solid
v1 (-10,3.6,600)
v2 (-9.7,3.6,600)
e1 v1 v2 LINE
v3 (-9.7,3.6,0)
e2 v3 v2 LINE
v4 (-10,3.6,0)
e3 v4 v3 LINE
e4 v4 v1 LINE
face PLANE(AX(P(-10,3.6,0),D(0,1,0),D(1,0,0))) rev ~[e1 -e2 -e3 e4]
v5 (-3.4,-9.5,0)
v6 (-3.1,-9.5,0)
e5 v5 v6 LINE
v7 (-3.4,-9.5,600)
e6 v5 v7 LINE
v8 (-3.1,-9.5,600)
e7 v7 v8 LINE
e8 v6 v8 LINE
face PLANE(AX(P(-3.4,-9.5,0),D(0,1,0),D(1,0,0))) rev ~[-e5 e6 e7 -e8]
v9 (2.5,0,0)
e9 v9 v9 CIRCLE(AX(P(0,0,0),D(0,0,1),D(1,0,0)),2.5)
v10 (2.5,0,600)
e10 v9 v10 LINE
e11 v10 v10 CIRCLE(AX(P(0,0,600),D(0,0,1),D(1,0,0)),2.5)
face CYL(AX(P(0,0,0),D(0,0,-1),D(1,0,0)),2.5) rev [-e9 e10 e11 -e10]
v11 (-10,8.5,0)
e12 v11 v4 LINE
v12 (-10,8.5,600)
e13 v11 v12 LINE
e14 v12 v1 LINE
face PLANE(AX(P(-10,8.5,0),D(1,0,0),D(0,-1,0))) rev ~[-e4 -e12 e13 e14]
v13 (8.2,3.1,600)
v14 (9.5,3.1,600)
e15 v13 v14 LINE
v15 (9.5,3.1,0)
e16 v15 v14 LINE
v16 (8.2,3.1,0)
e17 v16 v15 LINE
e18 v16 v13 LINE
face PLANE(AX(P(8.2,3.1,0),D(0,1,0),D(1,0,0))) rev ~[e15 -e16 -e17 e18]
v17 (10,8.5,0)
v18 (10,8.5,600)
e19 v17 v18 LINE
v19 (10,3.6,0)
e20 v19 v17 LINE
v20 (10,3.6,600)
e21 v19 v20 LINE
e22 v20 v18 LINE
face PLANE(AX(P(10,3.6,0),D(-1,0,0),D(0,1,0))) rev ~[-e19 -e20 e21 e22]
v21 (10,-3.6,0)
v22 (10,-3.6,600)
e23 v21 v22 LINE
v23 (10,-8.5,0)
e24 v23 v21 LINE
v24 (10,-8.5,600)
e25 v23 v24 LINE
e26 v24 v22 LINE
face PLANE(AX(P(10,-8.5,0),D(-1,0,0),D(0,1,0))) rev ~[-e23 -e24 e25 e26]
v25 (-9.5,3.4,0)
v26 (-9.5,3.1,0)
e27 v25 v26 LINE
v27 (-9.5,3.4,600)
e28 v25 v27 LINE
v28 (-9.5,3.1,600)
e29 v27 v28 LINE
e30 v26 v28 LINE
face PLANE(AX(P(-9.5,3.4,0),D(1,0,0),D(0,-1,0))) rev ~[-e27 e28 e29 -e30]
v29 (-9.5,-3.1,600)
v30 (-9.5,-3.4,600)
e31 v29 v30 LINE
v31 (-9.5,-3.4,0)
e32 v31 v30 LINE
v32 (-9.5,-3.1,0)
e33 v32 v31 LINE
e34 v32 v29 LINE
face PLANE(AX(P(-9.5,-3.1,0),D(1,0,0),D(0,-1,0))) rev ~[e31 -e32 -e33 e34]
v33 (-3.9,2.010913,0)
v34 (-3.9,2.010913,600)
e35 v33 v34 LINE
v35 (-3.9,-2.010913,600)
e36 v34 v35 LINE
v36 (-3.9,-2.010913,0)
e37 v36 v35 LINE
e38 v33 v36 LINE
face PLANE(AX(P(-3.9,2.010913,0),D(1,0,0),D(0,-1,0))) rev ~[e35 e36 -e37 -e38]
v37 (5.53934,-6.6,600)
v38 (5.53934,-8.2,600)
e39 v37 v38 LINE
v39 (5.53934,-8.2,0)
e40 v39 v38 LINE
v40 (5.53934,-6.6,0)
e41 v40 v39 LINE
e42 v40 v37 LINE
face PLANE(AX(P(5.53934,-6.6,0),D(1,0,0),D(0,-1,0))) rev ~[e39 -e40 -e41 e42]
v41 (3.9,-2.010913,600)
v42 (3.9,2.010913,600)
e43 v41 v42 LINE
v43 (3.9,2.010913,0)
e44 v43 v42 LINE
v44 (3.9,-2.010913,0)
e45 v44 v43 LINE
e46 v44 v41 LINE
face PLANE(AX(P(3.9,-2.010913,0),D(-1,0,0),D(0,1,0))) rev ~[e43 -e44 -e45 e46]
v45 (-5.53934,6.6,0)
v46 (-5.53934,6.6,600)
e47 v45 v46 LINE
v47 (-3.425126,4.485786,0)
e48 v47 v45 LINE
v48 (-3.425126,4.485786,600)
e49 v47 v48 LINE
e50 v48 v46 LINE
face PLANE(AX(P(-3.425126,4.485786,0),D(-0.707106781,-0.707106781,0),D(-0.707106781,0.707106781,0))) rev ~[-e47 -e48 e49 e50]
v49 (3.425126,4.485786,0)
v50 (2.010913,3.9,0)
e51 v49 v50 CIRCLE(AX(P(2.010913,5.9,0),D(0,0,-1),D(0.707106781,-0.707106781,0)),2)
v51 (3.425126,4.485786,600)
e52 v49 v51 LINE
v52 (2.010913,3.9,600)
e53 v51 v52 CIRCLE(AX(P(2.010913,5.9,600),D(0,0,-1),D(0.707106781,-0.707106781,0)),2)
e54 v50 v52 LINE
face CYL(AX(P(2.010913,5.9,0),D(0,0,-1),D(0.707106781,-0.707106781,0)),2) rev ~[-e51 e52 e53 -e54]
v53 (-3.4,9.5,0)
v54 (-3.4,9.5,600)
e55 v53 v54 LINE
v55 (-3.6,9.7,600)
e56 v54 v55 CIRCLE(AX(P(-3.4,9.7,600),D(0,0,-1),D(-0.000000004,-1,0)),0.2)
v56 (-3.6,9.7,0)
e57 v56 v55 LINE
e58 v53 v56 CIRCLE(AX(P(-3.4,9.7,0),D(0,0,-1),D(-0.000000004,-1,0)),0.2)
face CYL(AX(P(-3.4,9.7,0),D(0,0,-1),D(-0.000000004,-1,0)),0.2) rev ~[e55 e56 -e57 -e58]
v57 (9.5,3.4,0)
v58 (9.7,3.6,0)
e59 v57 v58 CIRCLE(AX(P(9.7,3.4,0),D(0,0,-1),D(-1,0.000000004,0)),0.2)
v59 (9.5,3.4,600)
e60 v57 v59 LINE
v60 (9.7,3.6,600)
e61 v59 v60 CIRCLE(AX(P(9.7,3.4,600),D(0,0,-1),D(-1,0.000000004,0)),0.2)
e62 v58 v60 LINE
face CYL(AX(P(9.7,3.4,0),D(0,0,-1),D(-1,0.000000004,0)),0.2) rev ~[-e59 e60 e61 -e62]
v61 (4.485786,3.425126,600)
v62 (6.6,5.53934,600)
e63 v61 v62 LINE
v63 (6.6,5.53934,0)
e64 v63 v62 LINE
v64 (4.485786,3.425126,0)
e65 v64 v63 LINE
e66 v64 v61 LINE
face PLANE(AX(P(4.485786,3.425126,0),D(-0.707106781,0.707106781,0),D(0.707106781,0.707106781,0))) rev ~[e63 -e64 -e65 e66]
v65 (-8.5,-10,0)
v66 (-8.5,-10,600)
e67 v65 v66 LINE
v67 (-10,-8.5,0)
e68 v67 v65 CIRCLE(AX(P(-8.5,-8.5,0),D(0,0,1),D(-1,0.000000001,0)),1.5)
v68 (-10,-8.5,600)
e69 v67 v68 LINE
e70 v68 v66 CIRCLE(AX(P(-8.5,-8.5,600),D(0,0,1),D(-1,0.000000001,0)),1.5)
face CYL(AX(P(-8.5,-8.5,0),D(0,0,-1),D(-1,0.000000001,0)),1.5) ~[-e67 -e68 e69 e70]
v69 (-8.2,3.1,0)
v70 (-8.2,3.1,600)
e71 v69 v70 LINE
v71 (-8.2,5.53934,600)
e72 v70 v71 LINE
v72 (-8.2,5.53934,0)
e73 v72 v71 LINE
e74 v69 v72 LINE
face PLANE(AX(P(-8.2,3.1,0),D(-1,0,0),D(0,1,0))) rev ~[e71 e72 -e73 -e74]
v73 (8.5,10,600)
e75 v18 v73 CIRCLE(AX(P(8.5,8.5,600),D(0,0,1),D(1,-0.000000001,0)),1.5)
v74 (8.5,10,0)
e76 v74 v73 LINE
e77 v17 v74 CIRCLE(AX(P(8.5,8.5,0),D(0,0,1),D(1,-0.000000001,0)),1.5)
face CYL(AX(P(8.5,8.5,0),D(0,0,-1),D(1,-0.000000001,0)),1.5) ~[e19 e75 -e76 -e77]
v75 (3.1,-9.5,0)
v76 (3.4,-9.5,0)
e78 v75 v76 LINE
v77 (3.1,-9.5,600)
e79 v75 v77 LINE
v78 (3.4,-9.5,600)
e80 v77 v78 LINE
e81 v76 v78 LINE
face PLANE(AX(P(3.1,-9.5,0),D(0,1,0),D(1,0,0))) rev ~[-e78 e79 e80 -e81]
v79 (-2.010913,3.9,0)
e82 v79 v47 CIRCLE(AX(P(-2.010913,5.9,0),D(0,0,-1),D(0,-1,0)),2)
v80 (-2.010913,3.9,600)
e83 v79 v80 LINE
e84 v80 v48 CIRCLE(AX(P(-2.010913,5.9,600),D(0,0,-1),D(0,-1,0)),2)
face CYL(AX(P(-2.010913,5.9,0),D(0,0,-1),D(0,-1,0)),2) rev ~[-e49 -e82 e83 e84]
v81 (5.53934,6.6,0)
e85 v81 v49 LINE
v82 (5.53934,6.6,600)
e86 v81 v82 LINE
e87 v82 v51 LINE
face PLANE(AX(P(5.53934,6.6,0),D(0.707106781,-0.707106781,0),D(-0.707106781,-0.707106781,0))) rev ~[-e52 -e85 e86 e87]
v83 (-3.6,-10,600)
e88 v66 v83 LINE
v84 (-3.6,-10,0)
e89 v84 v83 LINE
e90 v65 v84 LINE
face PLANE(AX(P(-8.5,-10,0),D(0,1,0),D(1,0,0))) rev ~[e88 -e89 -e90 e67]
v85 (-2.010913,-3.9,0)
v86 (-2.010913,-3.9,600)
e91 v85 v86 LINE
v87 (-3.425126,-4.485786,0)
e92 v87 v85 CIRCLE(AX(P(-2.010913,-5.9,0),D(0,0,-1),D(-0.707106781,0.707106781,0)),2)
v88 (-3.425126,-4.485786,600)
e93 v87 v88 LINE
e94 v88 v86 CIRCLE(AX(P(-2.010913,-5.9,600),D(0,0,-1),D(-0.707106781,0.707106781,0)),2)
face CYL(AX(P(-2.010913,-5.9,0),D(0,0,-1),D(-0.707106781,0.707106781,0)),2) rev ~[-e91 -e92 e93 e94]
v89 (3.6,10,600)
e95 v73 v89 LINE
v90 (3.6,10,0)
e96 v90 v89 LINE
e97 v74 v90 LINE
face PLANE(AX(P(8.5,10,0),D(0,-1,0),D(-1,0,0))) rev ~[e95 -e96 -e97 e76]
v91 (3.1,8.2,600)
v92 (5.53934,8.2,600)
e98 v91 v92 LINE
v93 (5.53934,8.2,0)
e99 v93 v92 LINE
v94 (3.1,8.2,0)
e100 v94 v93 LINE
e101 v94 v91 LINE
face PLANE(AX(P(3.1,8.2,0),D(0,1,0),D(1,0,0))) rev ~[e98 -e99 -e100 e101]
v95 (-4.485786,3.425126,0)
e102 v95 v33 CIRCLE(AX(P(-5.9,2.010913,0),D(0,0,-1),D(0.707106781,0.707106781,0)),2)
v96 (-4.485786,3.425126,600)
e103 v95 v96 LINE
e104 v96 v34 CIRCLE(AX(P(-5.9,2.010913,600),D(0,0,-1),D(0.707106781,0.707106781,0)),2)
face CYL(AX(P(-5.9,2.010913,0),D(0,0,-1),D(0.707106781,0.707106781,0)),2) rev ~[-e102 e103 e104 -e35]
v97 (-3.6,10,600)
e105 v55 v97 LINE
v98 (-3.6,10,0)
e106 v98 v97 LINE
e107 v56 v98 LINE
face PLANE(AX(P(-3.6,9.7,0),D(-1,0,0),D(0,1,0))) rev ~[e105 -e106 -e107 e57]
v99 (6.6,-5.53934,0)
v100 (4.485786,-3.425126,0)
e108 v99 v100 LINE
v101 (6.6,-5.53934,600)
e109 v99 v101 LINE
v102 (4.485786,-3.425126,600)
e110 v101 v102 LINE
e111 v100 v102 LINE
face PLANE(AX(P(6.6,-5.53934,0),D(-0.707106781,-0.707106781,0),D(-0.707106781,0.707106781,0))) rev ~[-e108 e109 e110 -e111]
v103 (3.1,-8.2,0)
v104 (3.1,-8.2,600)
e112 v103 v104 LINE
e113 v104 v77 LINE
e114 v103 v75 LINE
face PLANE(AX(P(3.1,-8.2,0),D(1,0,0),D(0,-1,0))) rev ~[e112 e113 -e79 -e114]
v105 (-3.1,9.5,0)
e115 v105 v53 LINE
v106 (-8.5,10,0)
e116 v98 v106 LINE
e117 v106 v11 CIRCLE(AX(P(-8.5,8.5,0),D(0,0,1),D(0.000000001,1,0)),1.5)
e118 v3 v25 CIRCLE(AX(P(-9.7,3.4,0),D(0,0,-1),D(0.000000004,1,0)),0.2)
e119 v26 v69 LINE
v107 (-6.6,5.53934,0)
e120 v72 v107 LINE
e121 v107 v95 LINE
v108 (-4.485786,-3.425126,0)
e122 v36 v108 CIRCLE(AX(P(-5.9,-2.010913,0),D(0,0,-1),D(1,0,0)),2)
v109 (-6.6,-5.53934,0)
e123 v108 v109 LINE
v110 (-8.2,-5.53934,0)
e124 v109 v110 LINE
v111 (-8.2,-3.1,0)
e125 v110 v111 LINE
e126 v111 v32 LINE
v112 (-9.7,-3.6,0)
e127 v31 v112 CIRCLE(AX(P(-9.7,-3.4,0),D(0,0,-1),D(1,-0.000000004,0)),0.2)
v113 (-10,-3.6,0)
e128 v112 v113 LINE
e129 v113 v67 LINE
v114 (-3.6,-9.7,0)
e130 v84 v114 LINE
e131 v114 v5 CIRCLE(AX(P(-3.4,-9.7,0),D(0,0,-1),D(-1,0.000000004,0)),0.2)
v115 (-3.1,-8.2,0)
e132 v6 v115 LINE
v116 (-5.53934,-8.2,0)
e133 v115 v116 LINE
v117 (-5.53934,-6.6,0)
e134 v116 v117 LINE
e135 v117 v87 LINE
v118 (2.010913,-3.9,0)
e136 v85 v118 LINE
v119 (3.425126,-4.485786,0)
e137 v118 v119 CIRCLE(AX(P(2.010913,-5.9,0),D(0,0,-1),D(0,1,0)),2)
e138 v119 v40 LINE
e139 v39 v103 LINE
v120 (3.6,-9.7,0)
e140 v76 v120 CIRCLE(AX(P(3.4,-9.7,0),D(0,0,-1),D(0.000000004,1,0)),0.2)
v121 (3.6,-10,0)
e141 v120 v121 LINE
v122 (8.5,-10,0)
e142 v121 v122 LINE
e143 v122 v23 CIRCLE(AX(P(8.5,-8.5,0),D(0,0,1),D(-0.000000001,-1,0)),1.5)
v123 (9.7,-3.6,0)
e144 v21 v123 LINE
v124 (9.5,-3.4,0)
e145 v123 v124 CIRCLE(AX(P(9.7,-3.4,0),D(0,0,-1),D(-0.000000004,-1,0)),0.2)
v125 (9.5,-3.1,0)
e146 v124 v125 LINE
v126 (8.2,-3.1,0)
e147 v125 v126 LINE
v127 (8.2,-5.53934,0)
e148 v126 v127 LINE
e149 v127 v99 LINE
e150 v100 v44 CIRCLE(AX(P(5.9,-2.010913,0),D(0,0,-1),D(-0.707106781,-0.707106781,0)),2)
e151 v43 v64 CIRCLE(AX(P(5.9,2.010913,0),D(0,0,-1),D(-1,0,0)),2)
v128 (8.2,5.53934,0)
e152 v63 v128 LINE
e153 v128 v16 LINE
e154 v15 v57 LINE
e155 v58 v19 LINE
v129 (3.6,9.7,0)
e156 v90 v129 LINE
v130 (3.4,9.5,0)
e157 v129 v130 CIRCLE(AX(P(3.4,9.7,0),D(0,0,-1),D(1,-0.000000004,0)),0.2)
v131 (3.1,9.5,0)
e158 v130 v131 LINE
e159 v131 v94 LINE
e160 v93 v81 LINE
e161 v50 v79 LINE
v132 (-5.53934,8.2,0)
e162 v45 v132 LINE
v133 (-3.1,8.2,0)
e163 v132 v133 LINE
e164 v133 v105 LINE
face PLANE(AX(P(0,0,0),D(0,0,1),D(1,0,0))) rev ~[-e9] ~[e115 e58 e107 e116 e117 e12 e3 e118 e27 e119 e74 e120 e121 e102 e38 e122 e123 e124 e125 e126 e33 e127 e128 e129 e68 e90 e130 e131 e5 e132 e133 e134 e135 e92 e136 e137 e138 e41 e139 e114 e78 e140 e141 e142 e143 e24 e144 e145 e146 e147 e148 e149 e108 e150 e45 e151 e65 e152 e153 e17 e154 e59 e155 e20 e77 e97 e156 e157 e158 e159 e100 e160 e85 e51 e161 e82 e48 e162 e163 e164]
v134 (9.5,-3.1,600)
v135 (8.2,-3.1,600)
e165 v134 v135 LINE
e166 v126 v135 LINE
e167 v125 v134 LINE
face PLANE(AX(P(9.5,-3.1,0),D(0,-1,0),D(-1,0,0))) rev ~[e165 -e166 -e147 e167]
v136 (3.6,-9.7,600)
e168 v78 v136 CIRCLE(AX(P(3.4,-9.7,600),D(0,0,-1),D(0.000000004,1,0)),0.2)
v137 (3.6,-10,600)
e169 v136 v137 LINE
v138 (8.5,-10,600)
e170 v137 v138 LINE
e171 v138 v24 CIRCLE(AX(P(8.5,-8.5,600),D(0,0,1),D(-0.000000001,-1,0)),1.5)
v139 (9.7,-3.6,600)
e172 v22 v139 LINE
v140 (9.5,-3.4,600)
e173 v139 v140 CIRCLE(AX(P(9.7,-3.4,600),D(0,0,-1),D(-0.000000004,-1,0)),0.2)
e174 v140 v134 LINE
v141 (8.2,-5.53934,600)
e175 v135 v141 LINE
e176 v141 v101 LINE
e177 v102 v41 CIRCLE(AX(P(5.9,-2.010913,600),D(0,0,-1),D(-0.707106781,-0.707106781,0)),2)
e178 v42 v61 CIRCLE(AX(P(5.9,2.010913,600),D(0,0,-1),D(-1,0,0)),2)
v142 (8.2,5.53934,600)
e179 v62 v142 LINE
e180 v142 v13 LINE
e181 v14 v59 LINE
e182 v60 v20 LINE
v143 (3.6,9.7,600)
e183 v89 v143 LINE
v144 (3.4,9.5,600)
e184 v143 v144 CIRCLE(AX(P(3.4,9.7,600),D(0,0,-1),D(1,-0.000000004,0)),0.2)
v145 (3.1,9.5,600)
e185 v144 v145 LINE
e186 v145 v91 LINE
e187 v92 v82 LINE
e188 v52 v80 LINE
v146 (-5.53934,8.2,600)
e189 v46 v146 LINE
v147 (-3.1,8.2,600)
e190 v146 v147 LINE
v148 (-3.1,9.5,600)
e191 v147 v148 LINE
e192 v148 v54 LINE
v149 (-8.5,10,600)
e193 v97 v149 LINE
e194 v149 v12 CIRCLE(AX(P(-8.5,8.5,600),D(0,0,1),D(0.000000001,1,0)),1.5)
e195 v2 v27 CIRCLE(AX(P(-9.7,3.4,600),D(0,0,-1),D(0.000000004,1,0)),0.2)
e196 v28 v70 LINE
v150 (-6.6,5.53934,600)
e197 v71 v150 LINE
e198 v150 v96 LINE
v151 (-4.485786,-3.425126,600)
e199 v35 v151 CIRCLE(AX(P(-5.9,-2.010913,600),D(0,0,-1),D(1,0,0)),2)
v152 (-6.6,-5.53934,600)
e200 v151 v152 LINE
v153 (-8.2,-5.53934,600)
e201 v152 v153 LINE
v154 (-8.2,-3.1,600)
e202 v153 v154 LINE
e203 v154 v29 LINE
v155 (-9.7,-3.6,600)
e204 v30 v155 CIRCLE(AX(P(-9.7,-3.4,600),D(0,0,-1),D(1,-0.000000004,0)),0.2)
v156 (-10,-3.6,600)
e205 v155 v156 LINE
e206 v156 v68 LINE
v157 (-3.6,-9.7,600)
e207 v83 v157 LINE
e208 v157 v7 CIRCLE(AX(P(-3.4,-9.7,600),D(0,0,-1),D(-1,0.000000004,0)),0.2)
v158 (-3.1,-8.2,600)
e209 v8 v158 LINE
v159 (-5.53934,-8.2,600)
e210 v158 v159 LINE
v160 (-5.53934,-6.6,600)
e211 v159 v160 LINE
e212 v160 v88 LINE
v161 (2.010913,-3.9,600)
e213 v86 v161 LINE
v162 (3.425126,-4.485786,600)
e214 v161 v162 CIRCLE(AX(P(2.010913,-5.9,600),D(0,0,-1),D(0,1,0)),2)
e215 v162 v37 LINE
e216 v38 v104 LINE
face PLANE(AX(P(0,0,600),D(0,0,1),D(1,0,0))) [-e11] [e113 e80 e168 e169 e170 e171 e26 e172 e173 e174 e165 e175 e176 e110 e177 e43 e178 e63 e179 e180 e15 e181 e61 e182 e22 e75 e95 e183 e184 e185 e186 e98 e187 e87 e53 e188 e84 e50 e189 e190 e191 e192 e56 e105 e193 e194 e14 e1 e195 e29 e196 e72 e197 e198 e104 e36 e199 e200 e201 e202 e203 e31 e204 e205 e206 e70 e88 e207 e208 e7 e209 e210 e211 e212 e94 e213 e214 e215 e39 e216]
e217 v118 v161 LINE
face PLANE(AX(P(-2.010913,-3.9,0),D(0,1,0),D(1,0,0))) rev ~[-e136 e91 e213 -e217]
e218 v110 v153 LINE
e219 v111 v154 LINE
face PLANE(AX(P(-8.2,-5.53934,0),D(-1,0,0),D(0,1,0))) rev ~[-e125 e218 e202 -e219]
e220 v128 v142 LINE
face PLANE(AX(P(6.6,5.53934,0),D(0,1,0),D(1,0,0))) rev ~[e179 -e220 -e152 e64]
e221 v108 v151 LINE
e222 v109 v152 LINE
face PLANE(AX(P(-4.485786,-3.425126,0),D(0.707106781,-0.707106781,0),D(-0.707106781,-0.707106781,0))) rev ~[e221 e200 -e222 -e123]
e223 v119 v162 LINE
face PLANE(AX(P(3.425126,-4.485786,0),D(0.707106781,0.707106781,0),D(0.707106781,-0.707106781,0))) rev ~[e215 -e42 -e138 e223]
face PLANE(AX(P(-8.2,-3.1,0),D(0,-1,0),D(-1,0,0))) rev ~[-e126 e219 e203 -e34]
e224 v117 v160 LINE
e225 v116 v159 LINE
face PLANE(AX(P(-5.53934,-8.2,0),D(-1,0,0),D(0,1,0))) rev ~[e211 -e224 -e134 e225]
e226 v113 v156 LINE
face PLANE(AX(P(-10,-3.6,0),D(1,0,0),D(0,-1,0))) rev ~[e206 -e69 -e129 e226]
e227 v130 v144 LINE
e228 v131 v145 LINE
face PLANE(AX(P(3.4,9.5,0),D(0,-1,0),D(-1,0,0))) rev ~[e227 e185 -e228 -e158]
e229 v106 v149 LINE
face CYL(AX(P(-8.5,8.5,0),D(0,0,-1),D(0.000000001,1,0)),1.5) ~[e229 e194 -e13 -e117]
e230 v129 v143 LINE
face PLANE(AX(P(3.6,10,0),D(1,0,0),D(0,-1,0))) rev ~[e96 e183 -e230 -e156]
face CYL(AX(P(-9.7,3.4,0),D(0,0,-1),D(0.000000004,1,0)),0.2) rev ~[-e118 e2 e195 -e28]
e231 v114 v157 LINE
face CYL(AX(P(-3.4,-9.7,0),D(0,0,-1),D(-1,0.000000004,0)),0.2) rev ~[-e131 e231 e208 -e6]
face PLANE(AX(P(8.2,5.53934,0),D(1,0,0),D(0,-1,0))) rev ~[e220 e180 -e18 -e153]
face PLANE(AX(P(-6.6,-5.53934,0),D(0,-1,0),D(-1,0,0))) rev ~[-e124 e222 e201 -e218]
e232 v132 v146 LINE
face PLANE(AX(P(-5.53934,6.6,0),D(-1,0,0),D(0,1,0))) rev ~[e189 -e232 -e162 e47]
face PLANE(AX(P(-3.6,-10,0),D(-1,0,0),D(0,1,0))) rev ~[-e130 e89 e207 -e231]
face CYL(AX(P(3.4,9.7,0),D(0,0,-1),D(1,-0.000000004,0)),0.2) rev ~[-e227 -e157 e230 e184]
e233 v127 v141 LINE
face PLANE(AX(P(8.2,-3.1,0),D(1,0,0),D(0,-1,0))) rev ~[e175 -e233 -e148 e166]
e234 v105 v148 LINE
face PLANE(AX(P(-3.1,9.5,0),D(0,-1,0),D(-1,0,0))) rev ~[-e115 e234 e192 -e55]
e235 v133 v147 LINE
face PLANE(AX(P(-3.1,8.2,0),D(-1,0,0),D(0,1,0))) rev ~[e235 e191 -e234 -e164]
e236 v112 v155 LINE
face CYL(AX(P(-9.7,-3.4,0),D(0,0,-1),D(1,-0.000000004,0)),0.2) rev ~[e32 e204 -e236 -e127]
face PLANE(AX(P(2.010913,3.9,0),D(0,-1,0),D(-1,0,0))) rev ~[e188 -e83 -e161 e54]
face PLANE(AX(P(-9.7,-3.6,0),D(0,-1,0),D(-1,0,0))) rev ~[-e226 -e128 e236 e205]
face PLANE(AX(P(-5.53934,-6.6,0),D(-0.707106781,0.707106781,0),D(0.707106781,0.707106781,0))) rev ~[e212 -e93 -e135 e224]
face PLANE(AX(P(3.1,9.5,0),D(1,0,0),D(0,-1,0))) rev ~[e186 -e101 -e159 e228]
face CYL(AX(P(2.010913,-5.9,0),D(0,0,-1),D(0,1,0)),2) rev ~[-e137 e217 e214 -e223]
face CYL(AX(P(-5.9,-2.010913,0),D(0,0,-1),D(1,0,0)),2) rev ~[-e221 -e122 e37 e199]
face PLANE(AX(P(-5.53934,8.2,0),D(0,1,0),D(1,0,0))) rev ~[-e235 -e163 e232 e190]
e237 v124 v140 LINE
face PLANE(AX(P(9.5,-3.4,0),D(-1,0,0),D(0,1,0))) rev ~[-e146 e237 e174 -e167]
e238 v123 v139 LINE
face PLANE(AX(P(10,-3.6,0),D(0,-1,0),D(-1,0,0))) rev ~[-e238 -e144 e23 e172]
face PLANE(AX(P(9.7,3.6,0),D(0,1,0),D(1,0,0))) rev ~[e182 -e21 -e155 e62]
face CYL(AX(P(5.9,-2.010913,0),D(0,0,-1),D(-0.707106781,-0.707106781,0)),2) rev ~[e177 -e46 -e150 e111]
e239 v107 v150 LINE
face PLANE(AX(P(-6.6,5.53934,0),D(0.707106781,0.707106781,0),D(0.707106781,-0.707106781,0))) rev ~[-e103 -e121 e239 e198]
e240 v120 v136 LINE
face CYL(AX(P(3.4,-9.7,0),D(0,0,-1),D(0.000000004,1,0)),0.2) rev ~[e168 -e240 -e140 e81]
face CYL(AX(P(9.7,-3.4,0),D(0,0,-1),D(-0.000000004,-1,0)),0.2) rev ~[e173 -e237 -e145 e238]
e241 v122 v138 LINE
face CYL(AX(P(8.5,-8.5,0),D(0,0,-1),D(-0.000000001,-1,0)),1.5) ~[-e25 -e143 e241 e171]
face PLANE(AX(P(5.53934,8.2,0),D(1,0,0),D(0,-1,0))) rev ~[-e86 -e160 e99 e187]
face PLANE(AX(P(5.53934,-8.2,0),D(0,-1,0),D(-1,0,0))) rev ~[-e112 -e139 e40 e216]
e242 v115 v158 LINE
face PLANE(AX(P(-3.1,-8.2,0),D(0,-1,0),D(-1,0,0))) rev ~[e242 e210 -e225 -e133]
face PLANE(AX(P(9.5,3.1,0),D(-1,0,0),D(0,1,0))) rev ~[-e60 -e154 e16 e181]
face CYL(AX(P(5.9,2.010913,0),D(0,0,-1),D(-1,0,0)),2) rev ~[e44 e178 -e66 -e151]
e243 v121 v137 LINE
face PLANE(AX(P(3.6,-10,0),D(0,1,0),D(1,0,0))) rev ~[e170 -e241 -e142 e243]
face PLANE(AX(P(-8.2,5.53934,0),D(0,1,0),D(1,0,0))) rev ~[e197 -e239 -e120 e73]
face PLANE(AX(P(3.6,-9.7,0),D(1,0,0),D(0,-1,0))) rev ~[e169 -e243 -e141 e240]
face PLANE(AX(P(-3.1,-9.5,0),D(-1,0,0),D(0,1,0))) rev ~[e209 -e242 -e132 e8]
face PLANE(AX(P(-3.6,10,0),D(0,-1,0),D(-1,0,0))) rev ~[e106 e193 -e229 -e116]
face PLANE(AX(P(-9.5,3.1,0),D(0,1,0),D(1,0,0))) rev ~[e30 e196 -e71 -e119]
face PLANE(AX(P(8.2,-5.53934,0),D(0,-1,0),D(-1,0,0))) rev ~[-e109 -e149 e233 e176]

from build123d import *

# Parameters (mm, degrees)
SKETCH1_R      = 2.5
EXTRUDE1_DEPTH = 600


with BuildPart() as part:
    # Sketch1 → Extrude1 (new body)
    with BuildSketch(Plane.XY):
        with BuildLine():
            Line((0, 3.9), (-2.010912703, 3.9))
            ThreePointArc((-2.010912703, 3.9), (-2.776279568, 4.052240935), (-3.425126266, 4.485786438))
            Line((-3.425126266, 4.485786438), (-5.539339828, 6.6))
            Line((-5.539339828, 6.6), (-5.539339828, 8.2))
            Line((-5.539339828, 8.2), (-3.1, 8.2))
            Line((-3.1, 8.2), (-3.1, 9.5))
            Line((-3.1, 9.5), (-3.4, 9.5))
            ThreePointArc((-3.4, 9.5), (-3.541421356, 9.558578644), (-3.6, 9.7))
            Line((-3.6, 9.7), (-3.6, 10))
            Line((-3.6, 10), (-8.5, 10))
            ThreePointArc((-8.5, 10), (-9.560660172, 9.560660172), (-10, 8.5))
            Line((-10, 8.5), (-10, 3.6))
            Line((-10, 3.6), (-9.7, 3.6))
            ThreePointArc((-9.7, 3.6), (-9.558578644, 3.541421356), (-9.5, 3.4))
            Line((-9.5, 3.4), (-9.5, 3.1))
            Line((-9.5, 3.1), (-8.2, 3.1))
            Line((-8.2, 3.1), (-8.2, 5.539339828))
            Line((-8.2, 5.539339828), (-6.6, 5.539339828))
            Line((-6.6, 5.539339828), (-4.485786438, 3.425126266))
            ThreePointArc((-4.485786438, 3.425126266), (-4.052240935, 2.776279568), (-3.9, 2.010912703))
            Line((-3.9, 2.010912703), (-3.9, 0))
            Line((-3.9, 0), (-3.9, -2.010912703))
            ThreePointArc((-3.9, -2.010912703), (-4.052240935, -2.776279568), (-4.485786438, -3.425126266))
            Line((-4.485786438, -3.425126266), (-6.6, -5.539339828))
            Line((-6.6, -5.539339828), (-8.2, -5.539339828))
            Line((-8.2, -5.539339828), (-8.2, -3.1))
            Line((-8.2, -3.1), (-9.5, -3.1))
            Line((-9.5, -3.1), (-9.5, -3.4))
            ThreePointArc((-9.5, -3.4), (-9.558578644, -3.541421356), (-9.7, -3.6))
            Line((-9.7, -3.6), (-10, -3.6))
            Line((-10, -3.6), (-10, -8.5))
            ThreePointArc((-10, -8.5), (-9.560660172, -9.560660172), (-8.5, -10))
            Line((-8.5, -10), (-3.6, -10))
            Line((-3.6, -10), (-3.6, -9.7))
            ThreePointArc((-3.6, -9.7), (-3.541421356, -9.558578644), (-3.4, -9.5))
            Line((-3.4, -9.5), (-3.1, -9.5))
            Line((-3.1, -9.5), (-3.1, -8.2))
            Line((-3.1, -8.2), (-5.539339828, -8.2))
            Line((-5.539339828, -8.2), (-5.539339828, -6.6))
            Line((-5.539339828, -6.6), (-3.425126266, -4.485786438))
            ThreePointArc((-3.425126266, -4.485786438), (-2.776279568, -4.052240935), (-2.010912703, -3.9))
            Line((-2.010912703, -3.9), (0, -3.9))
            Line((0, -3.9), (2.010912703, -3.9))
            ThreePointArc((2.010912703, -3.9), (2.776279568, -4.052240935), (3.425126266, -4.485786438))
            Line((3.425126266, -4.485786438), (5.539339828, -6.6))
            Line((5.539339828, -6.6), (5.539339828, -8.2))
            Line((5.539339828, -8.2), (3.1, -8.2))
            Line((3.1, -8.2), (3.1, -9.5))
            Line((3.1, -9.5), (3.4, -9.5))
            ThreePointArc((3.4, -9.5), (3.541421356, -9.558578644), (3.6, -9.7))
            Line((3.6, -9.7), (3.6, -10))
            Line((3.6, -10), (8.5, -10))
            ThreePointArc((8.5, -10), (9.560660172, -9.560660172), (10, -8.5))
            Line((10, -8.5), (10, -3.6))
            Line((10, -3.6), (9.7, -3.6))
            ThreePointArc((9.7, -3.6), (9.558578644, -3.541421356), (9.5, -3.4))
            Line((9.5, -3.4), (9.5, -3.1))
            Line((9.5, -3.1), (8.2, -3.1))
            Line((8.2, -3.1), (8.2, -5.539339828))
            Line((8.2, -5.539339828), (6.6, -5.539339828))
            Line((6.6, -5.539339828), (4.485786438, -3.425126266))
            ThreePointArc((4.485786438, -3.425126266), (4.052240935, -2.776279568), (3.9, -2.010912703))
            Line((3.9, -2.010912703), (3.9, 0))
            Line((3.9, 0), (3.9, 2.010912703))
            ThreePointArc((3.9, 2.010912703), (4.052240935, 2.776279568), (4.485786438, 3.425126266))
            Line((4.485786438, 3.425126266), (6.6, 5.539339828))
            Line((6.6, 5.539339828), (8.2, 5.539339828))
            Line((8.2, 5.539339828), (8.2, 3.1))
            Line((8.2, 3.1), (9.5, 3.1))
            Line((9.5, 3.1), (9.5, 3.4))
            ThreePointArc((9.5, 3.4), (9.558578644, 3.541421356), (9.7, 3.6))
            Line((9.7, 3.6), (10, 3.6))
            Line((10, 3.6), (10, 8.5))
            ThreePointArc((10, 8.5), (9.560660172, 9.560660172), (8.5, 10))
            Line((8.5, 10), (3.6, 10))
            Line((3.6, 10), (3.6, 9.7))
            ThreePointArc((3.6, 9.7), (3.541421356, 9.558578644), (3.4, 9.5))
            Line((3.4, 9.5), (3.1, 9.5))
            Line((3.1, 9.5), (3.1, 8.2))
            Line((3.1, 8.2), (5.539339828, 8.2))
            Line((5.539339828, 8.2), (5.539339828, 6.6))
            Line((5.539339828, 6.6), (3.425126266, 4.485786438))
            ThreePointArc((3.425126266, 4.485786438), (2.776279568, 4.052240935), (2.010912703, 3.9))
            Line((2.010912703, 3.9), (0, 3.9))
        make_face()
        Circle(SKETCH1_R, mode=Mode.SUBTRACT)
    extrude(amount=EXTRUDE1_DEPTH)


solid = part.part
